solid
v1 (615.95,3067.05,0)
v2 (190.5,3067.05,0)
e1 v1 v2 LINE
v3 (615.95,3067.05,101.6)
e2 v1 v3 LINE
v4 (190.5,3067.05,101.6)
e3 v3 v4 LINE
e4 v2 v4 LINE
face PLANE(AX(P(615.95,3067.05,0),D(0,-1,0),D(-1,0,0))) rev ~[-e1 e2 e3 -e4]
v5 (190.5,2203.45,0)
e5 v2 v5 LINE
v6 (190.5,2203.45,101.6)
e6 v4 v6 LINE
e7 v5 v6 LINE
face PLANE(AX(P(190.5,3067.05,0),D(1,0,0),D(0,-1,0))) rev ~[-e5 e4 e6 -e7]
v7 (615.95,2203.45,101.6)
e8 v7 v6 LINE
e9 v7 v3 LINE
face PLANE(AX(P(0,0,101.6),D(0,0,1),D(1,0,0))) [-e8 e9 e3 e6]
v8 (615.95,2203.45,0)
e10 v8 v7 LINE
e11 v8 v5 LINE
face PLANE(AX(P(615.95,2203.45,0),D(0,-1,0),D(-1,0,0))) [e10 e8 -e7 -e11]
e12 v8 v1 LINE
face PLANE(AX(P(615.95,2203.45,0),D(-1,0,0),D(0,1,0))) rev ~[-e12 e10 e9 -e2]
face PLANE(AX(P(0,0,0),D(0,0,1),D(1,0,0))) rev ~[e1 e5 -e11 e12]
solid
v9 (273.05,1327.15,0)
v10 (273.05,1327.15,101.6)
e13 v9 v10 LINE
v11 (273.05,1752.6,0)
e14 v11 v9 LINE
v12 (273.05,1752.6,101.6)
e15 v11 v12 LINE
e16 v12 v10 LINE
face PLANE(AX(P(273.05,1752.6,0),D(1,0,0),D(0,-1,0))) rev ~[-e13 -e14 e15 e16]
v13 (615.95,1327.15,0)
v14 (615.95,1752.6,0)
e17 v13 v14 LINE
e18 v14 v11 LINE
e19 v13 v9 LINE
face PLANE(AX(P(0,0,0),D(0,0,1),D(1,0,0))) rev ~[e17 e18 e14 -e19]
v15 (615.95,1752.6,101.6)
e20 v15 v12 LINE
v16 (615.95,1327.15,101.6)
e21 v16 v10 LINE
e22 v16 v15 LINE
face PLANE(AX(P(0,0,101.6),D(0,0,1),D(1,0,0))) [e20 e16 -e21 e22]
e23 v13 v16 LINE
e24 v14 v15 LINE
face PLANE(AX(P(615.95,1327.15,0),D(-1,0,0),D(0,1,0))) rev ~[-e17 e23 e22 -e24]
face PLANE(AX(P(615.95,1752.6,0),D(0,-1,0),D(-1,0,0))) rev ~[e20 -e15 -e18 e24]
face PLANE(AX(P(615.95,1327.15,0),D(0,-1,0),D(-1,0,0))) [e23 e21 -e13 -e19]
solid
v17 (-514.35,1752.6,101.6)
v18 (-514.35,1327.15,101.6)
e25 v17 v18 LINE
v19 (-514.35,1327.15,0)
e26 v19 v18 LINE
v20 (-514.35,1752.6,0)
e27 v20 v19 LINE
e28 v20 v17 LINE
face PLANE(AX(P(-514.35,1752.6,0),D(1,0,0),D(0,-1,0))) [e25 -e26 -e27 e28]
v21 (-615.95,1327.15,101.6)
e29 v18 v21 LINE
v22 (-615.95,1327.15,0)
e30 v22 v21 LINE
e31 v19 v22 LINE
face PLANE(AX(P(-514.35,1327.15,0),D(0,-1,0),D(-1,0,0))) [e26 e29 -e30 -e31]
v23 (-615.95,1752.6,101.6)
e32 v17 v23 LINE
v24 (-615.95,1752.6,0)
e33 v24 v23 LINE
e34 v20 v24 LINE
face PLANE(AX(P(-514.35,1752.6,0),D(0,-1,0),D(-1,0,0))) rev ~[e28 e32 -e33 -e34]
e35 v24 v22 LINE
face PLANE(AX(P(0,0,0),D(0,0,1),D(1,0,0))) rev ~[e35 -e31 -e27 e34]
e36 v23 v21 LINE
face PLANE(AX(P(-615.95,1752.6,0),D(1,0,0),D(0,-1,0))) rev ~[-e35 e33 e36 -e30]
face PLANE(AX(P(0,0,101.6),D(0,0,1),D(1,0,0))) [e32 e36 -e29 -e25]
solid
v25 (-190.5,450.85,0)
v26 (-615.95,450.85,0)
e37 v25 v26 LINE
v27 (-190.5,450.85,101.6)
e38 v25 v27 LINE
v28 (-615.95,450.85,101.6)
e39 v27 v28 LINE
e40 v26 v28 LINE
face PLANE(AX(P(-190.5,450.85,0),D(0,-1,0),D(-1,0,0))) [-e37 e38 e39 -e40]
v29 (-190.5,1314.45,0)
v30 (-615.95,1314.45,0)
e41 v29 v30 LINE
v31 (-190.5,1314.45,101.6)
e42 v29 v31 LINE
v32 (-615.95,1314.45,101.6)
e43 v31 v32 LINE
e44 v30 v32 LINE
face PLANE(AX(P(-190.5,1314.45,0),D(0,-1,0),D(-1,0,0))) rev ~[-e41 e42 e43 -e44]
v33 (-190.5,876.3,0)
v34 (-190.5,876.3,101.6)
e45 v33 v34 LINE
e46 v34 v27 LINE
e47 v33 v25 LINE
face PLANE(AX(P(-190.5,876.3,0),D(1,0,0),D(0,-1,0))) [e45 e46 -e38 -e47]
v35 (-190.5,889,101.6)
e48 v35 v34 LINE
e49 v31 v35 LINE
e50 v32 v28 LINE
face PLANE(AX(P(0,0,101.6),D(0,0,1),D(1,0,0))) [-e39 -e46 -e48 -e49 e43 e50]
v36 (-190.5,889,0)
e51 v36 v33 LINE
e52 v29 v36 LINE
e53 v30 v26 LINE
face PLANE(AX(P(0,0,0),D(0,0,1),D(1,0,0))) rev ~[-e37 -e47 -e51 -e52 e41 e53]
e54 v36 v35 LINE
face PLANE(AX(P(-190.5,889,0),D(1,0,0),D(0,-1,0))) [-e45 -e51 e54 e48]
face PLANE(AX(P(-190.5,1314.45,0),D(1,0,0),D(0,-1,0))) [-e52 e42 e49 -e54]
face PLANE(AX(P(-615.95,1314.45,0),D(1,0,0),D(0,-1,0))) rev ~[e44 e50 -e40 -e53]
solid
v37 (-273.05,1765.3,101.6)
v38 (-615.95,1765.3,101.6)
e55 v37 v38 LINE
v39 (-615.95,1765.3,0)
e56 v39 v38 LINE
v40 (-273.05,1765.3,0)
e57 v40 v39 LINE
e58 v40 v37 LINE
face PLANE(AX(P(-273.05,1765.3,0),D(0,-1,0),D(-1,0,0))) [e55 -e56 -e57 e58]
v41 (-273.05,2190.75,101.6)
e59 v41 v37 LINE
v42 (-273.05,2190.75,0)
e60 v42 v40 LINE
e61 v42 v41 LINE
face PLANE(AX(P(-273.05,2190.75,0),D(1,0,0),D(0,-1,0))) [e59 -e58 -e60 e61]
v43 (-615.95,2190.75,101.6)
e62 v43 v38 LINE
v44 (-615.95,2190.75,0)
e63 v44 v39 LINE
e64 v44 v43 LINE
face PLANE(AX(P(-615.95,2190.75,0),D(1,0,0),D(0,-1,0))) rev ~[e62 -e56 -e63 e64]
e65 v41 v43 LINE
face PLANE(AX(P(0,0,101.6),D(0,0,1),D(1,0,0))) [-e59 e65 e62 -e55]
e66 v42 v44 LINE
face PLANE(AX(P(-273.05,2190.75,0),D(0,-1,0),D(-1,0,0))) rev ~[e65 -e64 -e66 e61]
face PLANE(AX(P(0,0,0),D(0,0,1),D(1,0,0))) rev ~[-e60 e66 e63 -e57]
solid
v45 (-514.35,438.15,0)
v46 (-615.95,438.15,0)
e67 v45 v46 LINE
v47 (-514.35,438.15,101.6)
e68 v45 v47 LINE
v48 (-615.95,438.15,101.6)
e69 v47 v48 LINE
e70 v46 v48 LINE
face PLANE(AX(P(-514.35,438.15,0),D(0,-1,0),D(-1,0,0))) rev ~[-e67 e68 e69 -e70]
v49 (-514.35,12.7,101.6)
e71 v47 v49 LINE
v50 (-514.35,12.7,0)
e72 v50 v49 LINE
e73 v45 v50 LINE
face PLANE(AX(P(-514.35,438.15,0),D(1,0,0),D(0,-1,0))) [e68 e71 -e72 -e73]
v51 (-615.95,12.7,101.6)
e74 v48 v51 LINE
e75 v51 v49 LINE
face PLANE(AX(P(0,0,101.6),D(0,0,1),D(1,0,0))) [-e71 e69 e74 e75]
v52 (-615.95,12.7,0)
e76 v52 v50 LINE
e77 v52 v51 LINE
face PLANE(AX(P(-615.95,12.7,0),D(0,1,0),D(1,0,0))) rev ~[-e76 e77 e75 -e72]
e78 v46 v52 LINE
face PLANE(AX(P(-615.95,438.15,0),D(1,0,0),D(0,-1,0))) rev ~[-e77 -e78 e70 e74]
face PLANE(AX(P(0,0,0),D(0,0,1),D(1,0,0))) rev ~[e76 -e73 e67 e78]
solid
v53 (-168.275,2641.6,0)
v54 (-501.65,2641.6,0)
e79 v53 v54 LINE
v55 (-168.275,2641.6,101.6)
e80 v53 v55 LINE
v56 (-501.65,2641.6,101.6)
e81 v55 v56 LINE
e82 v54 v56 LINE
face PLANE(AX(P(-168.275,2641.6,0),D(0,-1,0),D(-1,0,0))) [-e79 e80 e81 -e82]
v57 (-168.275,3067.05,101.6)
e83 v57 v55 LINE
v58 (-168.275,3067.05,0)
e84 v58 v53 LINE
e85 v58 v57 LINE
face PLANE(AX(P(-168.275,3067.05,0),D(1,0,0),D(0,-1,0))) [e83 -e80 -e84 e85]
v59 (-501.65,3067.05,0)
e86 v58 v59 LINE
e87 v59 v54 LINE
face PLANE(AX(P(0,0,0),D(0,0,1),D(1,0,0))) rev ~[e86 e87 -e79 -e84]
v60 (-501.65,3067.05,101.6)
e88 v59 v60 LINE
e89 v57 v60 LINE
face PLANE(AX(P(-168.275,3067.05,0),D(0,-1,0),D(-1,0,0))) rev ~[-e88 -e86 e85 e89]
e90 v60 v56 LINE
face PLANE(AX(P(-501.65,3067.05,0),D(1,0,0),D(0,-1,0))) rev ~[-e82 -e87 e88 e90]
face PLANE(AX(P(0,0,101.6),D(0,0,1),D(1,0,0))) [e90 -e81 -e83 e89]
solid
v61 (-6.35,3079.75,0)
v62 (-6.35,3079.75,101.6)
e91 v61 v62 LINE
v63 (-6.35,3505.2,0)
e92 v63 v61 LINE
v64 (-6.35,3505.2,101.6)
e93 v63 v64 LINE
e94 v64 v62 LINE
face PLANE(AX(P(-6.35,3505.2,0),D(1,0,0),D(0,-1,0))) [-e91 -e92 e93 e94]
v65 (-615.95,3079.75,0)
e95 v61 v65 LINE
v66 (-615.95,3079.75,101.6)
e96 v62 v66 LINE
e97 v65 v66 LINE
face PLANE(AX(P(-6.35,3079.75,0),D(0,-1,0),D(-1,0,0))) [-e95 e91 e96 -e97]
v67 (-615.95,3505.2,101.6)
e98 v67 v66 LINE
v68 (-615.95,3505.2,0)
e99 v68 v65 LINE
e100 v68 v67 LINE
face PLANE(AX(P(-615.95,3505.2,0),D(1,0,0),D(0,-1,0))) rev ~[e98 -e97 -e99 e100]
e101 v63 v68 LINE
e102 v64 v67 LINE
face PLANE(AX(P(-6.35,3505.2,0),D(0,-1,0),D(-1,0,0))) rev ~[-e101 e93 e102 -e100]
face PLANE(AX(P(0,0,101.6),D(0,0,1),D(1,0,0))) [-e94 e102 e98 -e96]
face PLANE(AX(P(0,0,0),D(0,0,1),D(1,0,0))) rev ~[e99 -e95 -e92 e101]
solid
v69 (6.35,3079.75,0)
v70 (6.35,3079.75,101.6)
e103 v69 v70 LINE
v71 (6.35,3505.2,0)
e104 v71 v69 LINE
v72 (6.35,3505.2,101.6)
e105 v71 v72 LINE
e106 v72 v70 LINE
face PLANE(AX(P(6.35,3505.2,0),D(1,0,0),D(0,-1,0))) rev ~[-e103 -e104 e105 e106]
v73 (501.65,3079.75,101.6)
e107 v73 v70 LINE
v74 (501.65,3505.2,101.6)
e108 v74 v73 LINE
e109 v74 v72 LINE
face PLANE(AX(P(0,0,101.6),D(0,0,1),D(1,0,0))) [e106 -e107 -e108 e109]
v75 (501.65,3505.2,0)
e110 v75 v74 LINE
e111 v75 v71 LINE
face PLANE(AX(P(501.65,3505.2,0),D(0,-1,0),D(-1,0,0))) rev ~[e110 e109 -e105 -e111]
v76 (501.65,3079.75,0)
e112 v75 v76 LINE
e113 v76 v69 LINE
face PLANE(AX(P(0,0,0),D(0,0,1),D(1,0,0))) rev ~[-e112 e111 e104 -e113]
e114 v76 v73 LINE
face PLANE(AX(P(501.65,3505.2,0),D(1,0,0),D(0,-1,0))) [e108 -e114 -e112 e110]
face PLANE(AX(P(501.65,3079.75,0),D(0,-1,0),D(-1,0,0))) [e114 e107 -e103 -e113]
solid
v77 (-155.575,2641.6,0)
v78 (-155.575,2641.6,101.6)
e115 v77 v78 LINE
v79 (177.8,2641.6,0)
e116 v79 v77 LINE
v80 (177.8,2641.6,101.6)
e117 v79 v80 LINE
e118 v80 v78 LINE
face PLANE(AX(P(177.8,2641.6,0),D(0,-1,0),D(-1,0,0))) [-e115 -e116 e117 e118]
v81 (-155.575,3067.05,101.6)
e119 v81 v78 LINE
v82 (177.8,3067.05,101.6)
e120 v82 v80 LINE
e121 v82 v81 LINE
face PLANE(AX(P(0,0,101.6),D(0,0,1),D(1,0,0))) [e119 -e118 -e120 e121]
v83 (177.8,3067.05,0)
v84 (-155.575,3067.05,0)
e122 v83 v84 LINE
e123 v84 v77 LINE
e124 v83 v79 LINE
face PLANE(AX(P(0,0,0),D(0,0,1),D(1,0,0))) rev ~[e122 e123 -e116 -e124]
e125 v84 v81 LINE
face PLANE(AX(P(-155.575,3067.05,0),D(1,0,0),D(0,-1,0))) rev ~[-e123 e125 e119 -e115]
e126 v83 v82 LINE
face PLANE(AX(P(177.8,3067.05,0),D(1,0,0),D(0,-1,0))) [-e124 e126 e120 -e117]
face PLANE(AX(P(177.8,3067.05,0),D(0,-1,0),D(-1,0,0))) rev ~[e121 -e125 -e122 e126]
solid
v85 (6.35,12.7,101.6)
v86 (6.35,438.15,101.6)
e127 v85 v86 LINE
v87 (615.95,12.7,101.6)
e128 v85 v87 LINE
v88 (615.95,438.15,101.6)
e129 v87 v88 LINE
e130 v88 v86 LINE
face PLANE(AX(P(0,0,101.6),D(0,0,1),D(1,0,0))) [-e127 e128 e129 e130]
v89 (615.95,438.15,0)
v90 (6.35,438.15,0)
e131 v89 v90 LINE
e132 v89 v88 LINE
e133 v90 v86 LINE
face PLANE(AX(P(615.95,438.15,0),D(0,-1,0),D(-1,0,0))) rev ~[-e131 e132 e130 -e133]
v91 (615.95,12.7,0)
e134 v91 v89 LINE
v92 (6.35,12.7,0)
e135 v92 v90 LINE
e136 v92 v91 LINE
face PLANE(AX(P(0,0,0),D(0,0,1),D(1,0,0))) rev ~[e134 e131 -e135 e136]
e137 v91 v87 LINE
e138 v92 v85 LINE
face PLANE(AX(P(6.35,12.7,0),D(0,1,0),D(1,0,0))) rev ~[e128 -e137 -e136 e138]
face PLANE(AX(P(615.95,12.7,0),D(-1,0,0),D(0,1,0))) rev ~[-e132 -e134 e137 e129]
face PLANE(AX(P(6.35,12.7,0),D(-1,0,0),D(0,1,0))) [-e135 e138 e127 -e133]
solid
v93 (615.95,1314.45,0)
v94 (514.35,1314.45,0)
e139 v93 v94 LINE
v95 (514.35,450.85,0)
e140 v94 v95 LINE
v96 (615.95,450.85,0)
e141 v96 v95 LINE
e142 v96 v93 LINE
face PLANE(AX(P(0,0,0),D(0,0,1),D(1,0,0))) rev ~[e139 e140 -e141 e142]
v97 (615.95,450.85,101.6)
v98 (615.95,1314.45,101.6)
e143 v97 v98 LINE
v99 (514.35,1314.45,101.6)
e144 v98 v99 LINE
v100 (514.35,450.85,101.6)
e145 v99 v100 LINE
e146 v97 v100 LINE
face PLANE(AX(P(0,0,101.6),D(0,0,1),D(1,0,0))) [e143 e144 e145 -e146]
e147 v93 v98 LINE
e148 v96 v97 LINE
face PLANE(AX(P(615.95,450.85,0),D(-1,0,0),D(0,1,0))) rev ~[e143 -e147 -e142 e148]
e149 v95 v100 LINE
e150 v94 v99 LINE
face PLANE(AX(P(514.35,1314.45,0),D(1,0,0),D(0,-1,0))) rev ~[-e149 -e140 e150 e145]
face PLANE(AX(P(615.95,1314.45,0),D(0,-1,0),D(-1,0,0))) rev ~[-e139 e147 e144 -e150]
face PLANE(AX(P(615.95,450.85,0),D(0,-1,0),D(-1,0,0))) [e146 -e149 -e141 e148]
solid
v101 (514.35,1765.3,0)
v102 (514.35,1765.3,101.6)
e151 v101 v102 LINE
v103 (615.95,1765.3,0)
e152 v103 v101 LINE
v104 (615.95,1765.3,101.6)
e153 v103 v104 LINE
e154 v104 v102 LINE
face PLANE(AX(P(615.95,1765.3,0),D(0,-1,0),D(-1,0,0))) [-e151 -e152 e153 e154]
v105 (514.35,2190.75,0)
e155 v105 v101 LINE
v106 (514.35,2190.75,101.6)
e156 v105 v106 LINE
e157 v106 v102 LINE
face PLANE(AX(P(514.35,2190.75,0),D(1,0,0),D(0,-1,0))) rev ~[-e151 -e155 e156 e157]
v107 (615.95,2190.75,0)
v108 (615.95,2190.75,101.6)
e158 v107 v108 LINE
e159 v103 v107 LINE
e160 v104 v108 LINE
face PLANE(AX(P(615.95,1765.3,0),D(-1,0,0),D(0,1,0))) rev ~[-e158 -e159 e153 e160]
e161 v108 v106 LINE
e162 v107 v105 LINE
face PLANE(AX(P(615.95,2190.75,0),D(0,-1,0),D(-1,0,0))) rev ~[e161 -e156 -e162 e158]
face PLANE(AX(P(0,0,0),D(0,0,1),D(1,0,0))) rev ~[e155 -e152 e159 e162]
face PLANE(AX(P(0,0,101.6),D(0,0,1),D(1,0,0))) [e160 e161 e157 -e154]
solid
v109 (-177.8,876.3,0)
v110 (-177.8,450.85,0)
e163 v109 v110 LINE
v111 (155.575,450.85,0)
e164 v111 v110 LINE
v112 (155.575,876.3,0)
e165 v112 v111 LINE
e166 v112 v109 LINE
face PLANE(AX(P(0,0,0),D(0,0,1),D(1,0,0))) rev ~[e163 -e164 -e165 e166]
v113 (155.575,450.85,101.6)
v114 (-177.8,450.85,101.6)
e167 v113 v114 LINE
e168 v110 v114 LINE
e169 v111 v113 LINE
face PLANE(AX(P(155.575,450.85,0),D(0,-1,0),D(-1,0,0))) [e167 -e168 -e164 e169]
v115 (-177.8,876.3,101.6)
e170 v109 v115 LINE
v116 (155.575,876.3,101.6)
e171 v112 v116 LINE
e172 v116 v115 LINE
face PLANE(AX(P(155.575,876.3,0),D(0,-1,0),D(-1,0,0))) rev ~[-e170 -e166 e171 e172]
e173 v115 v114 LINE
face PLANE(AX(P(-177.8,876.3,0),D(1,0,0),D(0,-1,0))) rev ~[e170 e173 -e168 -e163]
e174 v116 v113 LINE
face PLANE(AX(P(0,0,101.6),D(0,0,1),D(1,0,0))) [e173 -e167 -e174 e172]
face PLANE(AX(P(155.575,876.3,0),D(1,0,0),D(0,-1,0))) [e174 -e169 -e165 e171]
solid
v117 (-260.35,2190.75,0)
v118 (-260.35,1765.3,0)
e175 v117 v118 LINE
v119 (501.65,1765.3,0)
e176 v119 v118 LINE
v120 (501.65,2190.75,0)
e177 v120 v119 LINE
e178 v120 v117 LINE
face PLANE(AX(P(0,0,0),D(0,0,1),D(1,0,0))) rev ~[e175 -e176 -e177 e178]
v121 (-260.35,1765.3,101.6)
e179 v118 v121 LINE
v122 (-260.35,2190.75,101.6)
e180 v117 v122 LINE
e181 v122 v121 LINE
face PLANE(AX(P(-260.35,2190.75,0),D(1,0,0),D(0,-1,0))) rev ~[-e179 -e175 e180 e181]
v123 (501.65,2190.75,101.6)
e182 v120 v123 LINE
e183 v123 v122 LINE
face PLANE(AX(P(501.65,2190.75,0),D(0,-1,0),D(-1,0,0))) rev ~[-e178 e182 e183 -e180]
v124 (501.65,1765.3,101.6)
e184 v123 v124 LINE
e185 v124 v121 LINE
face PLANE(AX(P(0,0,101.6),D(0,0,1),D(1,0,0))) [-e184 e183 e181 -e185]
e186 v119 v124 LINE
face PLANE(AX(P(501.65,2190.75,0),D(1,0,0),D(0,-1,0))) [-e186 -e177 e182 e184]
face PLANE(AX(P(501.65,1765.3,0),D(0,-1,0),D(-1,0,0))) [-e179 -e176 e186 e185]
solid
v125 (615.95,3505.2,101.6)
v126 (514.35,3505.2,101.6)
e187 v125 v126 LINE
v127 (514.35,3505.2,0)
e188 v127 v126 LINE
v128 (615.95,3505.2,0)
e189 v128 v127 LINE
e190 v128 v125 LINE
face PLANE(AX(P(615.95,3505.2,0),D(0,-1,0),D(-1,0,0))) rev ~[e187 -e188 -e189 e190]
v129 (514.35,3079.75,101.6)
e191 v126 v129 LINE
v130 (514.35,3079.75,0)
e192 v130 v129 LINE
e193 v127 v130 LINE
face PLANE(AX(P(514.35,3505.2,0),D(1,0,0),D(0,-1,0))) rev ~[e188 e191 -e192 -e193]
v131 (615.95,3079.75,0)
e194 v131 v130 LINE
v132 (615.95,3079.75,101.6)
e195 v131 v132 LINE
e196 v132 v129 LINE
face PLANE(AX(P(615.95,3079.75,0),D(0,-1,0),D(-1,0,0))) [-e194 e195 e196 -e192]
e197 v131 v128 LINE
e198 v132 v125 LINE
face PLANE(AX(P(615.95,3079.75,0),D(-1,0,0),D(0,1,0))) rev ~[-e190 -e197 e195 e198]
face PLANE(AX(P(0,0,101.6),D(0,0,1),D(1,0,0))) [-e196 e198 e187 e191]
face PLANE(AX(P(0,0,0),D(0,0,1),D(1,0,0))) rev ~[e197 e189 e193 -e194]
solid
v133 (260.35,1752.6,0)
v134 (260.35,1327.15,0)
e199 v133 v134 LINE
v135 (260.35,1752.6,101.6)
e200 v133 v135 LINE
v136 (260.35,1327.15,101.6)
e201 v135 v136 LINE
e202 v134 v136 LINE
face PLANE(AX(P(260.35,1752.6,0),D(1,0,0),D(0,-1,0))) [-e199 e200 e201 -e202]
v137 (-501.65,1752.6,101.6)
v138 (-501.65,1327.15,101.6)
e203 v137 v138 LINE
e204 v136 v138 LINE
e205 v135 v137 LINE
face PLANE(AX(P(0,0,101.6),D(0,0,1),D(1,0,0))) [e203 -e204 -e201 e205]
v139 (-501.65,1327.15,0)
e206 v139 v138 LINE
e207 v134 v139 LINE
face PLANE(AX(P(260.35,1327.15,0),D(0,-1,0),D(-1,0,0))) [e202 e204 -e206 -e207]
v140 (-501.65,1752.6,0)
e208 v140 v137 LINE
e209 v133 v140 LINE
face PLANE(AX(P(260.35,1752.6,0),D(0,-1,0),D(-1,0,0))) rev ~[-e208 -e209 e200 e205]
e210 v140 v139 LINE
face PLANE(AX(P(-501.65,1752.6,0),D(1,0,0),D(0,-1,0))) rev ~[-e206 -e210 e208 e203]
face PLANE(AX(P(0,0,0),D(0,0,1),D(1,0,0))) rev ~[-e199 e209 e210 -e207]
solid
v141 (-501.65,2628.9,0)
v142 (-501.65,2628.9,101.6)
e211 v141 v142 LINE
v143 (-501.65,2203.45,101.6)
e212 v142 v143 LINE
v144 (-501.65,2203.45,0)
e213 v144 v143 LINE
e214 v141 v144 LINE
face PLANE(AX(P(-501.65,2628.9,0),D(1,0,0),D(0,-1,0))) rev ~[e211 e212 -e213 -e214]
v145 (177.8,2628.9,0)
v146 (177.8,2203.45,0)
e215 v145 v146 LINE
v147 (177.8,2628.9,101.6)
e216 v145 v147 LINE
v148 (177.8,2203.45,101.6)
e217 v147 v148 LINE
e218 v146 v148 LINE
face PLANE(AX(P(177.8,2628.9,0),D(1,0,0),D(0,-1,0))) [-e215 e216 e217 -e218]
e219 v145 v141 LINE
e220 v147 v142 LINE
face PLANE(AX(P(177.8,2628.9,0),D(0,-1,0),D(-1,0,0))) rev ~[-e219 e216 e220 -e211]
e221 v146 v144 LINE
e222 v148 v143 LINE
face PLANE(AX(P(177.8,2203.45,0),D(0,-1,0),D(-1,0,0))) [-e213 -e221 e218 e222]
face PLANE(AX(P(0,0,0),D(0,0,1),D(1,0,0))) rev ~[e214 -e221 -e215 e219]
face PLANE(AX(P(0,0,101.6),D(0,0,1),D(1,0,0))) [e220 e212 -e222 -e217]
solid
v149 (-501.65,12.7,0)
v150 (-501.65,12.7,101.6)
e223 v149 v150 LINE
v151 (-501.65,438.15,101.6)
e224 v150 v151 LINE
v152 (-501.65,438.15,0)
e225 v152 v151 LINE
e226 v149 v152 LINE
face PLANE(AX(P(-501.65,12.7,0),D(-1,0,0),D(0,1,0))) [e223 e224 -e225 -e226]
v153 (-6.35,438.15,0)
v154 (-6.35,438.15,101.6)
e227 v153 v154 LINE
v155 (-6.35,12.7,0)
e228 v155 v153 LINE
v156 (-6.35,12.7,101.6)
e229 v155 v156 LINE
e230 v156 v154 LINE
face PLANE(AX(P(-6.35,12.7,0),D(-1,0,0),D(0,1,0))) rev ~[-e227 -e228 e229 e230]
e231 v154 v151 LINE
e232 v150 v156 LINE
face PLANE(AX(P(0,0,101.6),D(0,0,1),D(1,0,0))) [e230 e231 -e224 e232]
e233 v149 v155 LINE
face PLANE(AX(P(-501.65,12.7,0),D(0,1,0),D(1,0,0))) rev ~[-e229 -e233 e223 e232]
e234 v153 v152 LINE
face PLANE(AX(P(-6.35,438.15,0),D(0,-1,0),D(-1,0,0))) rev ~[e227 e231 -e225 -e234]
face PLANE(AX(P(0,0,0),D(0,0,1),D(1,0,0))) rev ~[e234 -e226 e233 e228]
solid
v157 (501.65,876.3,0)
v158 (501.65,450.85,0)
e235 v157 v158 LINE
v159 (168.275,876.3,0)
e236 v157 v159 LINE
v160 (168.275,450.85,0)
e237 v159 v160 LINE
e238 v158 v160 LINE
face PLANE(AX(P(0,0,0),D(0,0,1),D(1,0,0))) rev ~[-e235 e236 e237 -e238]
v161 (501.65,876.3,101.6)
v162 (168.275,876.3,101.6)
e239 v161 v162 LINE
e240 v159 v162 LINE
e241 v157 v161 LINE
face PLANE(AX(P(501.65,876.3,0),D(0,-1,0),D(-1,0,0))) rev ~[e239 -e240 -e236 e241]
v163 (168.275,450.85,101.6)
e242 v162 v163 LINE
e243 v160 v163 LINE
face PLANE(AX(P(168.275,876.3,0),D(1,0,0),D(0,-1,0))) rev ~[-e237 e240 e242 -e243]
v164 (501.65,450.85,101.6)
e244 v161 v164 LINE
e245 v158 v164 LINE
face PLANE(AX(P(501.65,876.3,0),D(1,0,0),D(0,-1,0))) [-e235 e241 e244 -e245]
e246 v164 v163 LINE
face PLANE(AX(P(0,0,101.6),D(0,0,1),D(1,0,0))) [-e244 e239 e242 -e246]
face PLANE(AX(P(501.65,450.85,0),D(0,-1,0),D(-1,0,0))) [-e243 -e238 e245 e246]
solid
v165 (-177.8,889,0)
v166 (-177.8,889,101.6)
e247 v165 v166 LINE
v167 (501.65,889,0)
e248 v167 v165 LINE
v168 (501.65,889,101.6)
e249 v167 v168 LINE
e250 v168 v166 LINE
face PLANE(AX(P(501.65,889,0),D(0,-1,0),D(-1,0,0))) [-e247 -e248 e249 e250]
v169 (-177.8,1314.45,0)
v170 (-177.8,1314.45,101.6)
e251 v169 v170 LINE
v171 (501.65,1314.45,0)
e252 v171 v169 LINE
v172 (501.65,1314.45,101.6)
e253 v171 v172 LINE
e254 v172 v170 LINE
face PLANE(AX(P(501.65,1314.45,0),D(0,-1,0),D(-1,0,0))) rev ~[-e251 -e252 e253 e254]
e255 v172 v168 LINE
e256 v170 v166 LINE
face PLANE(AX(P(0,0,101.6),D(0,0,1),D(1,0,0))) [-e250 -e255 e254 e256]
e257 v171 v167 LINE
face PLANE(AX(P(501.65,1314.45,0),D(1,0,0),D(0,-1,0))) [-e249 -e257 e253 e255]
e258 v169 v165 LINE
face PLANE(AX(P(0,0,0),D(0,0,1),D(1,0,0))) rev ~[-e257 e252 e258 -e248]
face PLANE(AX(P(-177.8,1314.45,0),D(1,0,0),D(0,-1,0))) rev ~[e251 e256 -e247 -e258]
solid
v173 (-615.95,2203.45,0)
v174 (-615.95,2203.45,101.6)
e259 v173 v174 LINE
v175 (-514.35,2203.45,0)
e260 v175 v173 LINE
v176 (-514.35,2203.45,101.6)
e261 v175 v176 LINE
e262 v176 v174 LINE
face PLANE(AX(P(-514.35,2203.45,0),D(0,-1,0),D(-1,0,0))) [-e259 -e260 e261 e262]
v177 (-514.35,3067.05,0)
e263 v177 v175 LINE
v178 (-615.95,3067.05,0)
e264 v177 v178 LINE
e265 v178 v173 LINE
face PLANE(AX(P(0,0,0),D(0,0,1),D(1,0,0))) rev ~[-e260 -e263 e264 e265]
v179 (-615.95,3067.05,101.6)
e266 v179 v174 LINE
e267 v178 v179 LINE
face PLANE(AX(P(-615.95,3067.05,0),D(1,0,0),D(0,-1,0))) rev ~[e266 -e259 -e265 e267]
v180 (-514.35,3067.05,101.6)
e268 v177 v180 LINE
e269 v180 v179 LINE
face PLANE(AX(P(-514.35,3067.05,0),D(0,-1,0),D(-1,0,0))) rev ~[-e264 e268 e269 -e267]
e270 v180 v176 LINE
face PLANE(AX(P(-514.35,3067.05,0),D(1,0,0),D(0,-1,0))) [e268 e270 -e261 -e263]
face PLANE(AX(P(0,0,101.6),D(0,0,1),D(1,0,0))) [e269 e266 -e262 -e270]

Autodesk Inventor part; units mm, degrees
ref_plane "YZ Plane" through (0, 0, 0) normal (1, 0, 0) x (0, 1, 0)
ref_plane "XZ Plane" through (0, 0, 0) normal (0, 1, 0) x (-1, 0, 0)
ref_plane "XY Plane" through (0, 0, 0) normal (0, 0, 1) x (1, 0, 0)
sketch "Sketch1" plane through (0, 0, 0) normal (0, 0, 1) x (1, 0, 0)
  line L0 (-615.95, 0) -> (615.95, 0)
  line L1 (615.95, 0) -> (615.95, 3517.9)
  line L2 (615.95, 3517.9) -> (-615.95, 3517.9)
  line L3 (-615.95, 3517.9) -> (-615.95, 0)
  line L4 (615.95, 3079.75) -> (-615.95, 3079.75)
  line L5 (615.95, 3067.05) -> (-615.95, 3067.05)
  line L6 (177.8, 2641.6) -> (-501.65, 2641.6)
  line L7 (177.8, 2628.9) -> (-501.65, 2628.9)
  line L8 (615.95, 2203.45) -> (-615.95, 2203.45)
  line L9 (615.95, 2190.75) -> (-615.95, 2190.75)
  line L10 (615.95, 1765.3) -> (-615.95, 1765.3)
  line L11 (615.95, 1752.6) -> (-615.95, 1752.6)
  line L12 (615.95, 1327.15) -> (-615.95, 1327.15)
  line L13 (615.95, 1314.45) -> (-615.95, 1314.45)
  line L14 (501.65, 889) -> (-190.5, 889)
  line L15 (501.65, 876.3) -> (-190.5, 876.3)
  line L16 (615.95, 450.85) -> (-615.95, 450.85)
  line L17 (615.95, 438.15) -> (-615.95, 438.15)
  line L18 (615.95, 3505.2) -> (-615.95, 3505.2)
  line L19 (-615.95, 12.7) -> (615.95, 12.7)
  line L20 (514.35, 1314.45) -> (514.35, 450.85)
  line L21 (514.35, 2190.75) -> (514.35, 1765.3)
  line L22 (-514.35, 1752.6) -> (-514.35, 1327.15)
  line L23 (501.65, 2190.75) -> (501.65, 1765.3)
  line L24 (-501.65, 1752.6) -> (-501.65, 1327.15)
  line L25 (501.65, 1314.45) -> (501.65, 450.85)
  line L26 (-190.5, 1314.45) -> (-190.5, 450.85)
  line L27 (-177.8, 1314.45) -> (-177.8, 450.85)
  line L28 (190.5, 3067.05) -> (190.5, 2203.45)
  line L29 (177.8, 3067.05) -> (177.8, 2203.45)
  line L30 (514.35, 3505.2) -> (514.35, 3079.75)
  line L31 (501.65, 3505.2) -> (501.65, 3079.75)
  line L32 (-514.35, 3067.05) -> (-514.35, 2203.45)
  line L33 (-501.65, 3067.05) -> (-501.65, 2203.45)
  line L34 (-514.35, 438.15) -> (-514.35, 12.7)
  line L35 (-501.65, 12.7) -> (-501.65, 438.15)
  line L36 (-6.35, 12.7) -> (-6.35, 438.15)
  line L37 (6.35, 12.7) -> (6.35, 438.15)
  line L38 (6.35, 3505.2) -> (6.35, 3079.75)
  line L39 (-6.35, 3505.2) -> (-6.35, 3079.75)
  line L40 (155.575, 876.3) -> (155.575, 450.85)
  line L41 (168.275, 876.3) -> (168.275, 450.85)
  line L42 (-155.575, 3067.05) -> (-155.575, 2641.6)
  line L43 (-168.275, 3067.05) -> (-168.275, 2641.6)
  line L44 (260.35, 1752.6) -> (260.35, 1327.15)
  line L45 (273.05, 1752.6) -> (273.05, 1327.15)
  line L46 (-260.35, 2190.75) -> (-260.35, 1765.3)
  line L47 (-273.05, 2190.75) -> (-273.05, 1765.3)
  point P0 (0, 0)
  point P1 (0, 0)
  point P2 (-177.8, 889)
  point P3 (-177.8, 876.3)
  point P4 (-177.8, 450.85)
  dimension "d0" = 3517.9
  dimension "d1" = 1231.9
  dimension "d3" = 12.7
  dimension "d4" = 425.45
  dimension "d5" = 12.7
  dimension "d6" = 425.45
  dimension "d7" = 12.7
  dimension "d8" = 425.45
  dimension "d9" = 12.7
  dimension "d10" = 425.45
  dimension "d11" = 12.7
  dimension "d12" = 425.45
  dimension "d13" = 12.7
  dimension "d14" = 425.45
  dimension "d15" = 12.7
  dimension "d16" = 12.7
  dimension "d17" = 425.45
  dimension "d18" = 12.7
  dimension "d20" = 101.6
  dimension "d21" = 101.6
  dimension "d22" = 101.6
  dimension "d25" = 425.45
  dimension "d26" = 12.7
  dimension "d27" = 12.7
  dimension "d28" = 12.7
  dimension "d30" = 425.45
  dimension "d31" = 12.7
  dimension "d32" = 425.45
  dimension "d34" = 12.7
  dimension "d35" = 101.6
  dimension "d36" = 12.7
  dimension "d37" = 101.6
  dimension "d38" = 12.7
  dimension "d39" = 101.6
  dimension "d40" = 12.7
  dimension "d46" = 609.6
  dimension "d47" = 495.3
  dimension "d48" = 495.3
  dimension "d49" = 609.6
  dimension "d50" = 333.375
  dimension "d51" = 12.7
  dimension "d52" = 333.375
  dimension "d53" = 12.7
  dimension "d55" = 762
  dimension "d56" = 12.7
  dimension "d57" = 762
  dimension "d58" = 12.7
extrude "Extrusion1" add sketch "Sketch1" along normal blind 101.6 contours L3 L18 L39 L4
extrude "Extrusion2" add sketch "Sketch1" along normal blind 101.6 separate body contours L38 L18 L31 L4
extrude "Extrusion3" add sketch "Sketch1" along normal blind 101.6 separate body contours L5 L43 L6 L33
extrude "Extrusion4" add sketch "Sketch1" along normal blind 101.6 separate body contours L29 L6 L42 L5
extrude "Extrusion5" add sketch "Sketch1" along normal blind 101.6 separate body contours L8 L28 L5 L1
extrude "Extrusion6" add sketch "Sketch1" along normal blind 101.6 separate body contours L33 L7 L29 L8
extrude "Extrusion7" add sketch "Sketch1" along normal blind 101.6 separate body contours L3 L9 L47 L10
extrude "Extrusion8" add sketch "Sketch1" along normal blind 101.6 separate body contours L46 L9 L23 L10
extrude "Extrusion9" add sketch "Sketch1" along normal blind 101.6 separate body contours L3 L13 L26 L16
extrude "Extrusion10" add sketch "Sketch1" along normal blind 101.6 separate body contours L13 L25 L14 L27
extrude "Extrusion11" add sketch "Sketch1" along normal blind 101.6 separate body contours L27 L15 L40 L16
extrude "Extrusion12" add sketch "Sketch1" along normal blind 101.6 separate body contours L16 L41 L15 L25
extrude "Extrusion13" add sketch "Sketch1" along normal blind 101.6 separate body contours L4 L30 L18 L1
extrude "Extrusion14" add sketch "Sketch1" along normal blind 101.6 separate body contours L3 L5 L32 L8
extrude "Extrusion15" add sketch "Sketch1" along normal blind 101.6 separate body contours L10 L21 L9 L1
extrude "Extrusion16" add sketch "Sketch1" along normal blind 101.6 separate body contours L3 L11 L22 L12
extrude "Extrusion17" add sketch "Sketch1" along normal blind 101.6 separate body contours L24 L11 L44 L12
extrude "Extrusion18" add sketch "Sketch1" along normal blind 101.6 separate body contours L12 L45 L11 L1
extrude "Extrusion19" add sketch "Sketch1" along normal blind 101.6 separate body contours L16 L20 L13 L1
extrude "Extrusion20" add sketch "Sketch1" along normal blind 101.6 separate body contours L3 L17 L34 L19
extrude "Extrusion21" add sketch "Sketch1" along normal blind 101.6 separate body contours L35 L17 L36 L19
extrude "Extrusion22" add sketch "Sketch1" along normal blind 101.6 separate body contours L19 L37 L17 L1
equation "\"d3\" = Joint"
equation "\"d4\" = Course"
equation "\"d5\" = Joint"
equation "\"d6\" = Course"
equation "\"d7\" = Joint"
equation "\"d8\" = Course"
equation "\"d9\" = Joint"
equation "\"d10\" = Course"
equation "\"d11\" = Joint"
equation "\"d12\" = Course"
equation "\"d13\" = Joint"
equation "\"d14\" = Course"
equation "\"d15\" = Joint"
equation "\"d17\" = Course"
equation "\"d18\" = Joint"
equation "\"d20\" = d19"
equation "\"d21\" = d19"
equation "\"d22\" = Thick"
equation "\"d26\" = Joint"
equation "\"d27\" = Joint"
equation "\"d28\" = Joint"
equation "\"d30\" = Course"
equation "\"d31\" = Joint"
equation "\"d32\" = Course"
equation "\"d34\" = Joint"
equation "\"d35\" = Thick"
equation "\"d36\" = Joint"
equation "\"d37\" = Thick"
equation "\"d38\" = Joint"
equation "\"d39\" = Thick"
equation "\"d40\" = Joint"
equation "\"d19\" = Thick"
equation "\"Thick\" = 101.6"
equation "\"Joint\" = 12.7"
equation "\"Course\" = 425.45"
properties part number "C - Split face veneer" material "Granite, Cut, Polished"
